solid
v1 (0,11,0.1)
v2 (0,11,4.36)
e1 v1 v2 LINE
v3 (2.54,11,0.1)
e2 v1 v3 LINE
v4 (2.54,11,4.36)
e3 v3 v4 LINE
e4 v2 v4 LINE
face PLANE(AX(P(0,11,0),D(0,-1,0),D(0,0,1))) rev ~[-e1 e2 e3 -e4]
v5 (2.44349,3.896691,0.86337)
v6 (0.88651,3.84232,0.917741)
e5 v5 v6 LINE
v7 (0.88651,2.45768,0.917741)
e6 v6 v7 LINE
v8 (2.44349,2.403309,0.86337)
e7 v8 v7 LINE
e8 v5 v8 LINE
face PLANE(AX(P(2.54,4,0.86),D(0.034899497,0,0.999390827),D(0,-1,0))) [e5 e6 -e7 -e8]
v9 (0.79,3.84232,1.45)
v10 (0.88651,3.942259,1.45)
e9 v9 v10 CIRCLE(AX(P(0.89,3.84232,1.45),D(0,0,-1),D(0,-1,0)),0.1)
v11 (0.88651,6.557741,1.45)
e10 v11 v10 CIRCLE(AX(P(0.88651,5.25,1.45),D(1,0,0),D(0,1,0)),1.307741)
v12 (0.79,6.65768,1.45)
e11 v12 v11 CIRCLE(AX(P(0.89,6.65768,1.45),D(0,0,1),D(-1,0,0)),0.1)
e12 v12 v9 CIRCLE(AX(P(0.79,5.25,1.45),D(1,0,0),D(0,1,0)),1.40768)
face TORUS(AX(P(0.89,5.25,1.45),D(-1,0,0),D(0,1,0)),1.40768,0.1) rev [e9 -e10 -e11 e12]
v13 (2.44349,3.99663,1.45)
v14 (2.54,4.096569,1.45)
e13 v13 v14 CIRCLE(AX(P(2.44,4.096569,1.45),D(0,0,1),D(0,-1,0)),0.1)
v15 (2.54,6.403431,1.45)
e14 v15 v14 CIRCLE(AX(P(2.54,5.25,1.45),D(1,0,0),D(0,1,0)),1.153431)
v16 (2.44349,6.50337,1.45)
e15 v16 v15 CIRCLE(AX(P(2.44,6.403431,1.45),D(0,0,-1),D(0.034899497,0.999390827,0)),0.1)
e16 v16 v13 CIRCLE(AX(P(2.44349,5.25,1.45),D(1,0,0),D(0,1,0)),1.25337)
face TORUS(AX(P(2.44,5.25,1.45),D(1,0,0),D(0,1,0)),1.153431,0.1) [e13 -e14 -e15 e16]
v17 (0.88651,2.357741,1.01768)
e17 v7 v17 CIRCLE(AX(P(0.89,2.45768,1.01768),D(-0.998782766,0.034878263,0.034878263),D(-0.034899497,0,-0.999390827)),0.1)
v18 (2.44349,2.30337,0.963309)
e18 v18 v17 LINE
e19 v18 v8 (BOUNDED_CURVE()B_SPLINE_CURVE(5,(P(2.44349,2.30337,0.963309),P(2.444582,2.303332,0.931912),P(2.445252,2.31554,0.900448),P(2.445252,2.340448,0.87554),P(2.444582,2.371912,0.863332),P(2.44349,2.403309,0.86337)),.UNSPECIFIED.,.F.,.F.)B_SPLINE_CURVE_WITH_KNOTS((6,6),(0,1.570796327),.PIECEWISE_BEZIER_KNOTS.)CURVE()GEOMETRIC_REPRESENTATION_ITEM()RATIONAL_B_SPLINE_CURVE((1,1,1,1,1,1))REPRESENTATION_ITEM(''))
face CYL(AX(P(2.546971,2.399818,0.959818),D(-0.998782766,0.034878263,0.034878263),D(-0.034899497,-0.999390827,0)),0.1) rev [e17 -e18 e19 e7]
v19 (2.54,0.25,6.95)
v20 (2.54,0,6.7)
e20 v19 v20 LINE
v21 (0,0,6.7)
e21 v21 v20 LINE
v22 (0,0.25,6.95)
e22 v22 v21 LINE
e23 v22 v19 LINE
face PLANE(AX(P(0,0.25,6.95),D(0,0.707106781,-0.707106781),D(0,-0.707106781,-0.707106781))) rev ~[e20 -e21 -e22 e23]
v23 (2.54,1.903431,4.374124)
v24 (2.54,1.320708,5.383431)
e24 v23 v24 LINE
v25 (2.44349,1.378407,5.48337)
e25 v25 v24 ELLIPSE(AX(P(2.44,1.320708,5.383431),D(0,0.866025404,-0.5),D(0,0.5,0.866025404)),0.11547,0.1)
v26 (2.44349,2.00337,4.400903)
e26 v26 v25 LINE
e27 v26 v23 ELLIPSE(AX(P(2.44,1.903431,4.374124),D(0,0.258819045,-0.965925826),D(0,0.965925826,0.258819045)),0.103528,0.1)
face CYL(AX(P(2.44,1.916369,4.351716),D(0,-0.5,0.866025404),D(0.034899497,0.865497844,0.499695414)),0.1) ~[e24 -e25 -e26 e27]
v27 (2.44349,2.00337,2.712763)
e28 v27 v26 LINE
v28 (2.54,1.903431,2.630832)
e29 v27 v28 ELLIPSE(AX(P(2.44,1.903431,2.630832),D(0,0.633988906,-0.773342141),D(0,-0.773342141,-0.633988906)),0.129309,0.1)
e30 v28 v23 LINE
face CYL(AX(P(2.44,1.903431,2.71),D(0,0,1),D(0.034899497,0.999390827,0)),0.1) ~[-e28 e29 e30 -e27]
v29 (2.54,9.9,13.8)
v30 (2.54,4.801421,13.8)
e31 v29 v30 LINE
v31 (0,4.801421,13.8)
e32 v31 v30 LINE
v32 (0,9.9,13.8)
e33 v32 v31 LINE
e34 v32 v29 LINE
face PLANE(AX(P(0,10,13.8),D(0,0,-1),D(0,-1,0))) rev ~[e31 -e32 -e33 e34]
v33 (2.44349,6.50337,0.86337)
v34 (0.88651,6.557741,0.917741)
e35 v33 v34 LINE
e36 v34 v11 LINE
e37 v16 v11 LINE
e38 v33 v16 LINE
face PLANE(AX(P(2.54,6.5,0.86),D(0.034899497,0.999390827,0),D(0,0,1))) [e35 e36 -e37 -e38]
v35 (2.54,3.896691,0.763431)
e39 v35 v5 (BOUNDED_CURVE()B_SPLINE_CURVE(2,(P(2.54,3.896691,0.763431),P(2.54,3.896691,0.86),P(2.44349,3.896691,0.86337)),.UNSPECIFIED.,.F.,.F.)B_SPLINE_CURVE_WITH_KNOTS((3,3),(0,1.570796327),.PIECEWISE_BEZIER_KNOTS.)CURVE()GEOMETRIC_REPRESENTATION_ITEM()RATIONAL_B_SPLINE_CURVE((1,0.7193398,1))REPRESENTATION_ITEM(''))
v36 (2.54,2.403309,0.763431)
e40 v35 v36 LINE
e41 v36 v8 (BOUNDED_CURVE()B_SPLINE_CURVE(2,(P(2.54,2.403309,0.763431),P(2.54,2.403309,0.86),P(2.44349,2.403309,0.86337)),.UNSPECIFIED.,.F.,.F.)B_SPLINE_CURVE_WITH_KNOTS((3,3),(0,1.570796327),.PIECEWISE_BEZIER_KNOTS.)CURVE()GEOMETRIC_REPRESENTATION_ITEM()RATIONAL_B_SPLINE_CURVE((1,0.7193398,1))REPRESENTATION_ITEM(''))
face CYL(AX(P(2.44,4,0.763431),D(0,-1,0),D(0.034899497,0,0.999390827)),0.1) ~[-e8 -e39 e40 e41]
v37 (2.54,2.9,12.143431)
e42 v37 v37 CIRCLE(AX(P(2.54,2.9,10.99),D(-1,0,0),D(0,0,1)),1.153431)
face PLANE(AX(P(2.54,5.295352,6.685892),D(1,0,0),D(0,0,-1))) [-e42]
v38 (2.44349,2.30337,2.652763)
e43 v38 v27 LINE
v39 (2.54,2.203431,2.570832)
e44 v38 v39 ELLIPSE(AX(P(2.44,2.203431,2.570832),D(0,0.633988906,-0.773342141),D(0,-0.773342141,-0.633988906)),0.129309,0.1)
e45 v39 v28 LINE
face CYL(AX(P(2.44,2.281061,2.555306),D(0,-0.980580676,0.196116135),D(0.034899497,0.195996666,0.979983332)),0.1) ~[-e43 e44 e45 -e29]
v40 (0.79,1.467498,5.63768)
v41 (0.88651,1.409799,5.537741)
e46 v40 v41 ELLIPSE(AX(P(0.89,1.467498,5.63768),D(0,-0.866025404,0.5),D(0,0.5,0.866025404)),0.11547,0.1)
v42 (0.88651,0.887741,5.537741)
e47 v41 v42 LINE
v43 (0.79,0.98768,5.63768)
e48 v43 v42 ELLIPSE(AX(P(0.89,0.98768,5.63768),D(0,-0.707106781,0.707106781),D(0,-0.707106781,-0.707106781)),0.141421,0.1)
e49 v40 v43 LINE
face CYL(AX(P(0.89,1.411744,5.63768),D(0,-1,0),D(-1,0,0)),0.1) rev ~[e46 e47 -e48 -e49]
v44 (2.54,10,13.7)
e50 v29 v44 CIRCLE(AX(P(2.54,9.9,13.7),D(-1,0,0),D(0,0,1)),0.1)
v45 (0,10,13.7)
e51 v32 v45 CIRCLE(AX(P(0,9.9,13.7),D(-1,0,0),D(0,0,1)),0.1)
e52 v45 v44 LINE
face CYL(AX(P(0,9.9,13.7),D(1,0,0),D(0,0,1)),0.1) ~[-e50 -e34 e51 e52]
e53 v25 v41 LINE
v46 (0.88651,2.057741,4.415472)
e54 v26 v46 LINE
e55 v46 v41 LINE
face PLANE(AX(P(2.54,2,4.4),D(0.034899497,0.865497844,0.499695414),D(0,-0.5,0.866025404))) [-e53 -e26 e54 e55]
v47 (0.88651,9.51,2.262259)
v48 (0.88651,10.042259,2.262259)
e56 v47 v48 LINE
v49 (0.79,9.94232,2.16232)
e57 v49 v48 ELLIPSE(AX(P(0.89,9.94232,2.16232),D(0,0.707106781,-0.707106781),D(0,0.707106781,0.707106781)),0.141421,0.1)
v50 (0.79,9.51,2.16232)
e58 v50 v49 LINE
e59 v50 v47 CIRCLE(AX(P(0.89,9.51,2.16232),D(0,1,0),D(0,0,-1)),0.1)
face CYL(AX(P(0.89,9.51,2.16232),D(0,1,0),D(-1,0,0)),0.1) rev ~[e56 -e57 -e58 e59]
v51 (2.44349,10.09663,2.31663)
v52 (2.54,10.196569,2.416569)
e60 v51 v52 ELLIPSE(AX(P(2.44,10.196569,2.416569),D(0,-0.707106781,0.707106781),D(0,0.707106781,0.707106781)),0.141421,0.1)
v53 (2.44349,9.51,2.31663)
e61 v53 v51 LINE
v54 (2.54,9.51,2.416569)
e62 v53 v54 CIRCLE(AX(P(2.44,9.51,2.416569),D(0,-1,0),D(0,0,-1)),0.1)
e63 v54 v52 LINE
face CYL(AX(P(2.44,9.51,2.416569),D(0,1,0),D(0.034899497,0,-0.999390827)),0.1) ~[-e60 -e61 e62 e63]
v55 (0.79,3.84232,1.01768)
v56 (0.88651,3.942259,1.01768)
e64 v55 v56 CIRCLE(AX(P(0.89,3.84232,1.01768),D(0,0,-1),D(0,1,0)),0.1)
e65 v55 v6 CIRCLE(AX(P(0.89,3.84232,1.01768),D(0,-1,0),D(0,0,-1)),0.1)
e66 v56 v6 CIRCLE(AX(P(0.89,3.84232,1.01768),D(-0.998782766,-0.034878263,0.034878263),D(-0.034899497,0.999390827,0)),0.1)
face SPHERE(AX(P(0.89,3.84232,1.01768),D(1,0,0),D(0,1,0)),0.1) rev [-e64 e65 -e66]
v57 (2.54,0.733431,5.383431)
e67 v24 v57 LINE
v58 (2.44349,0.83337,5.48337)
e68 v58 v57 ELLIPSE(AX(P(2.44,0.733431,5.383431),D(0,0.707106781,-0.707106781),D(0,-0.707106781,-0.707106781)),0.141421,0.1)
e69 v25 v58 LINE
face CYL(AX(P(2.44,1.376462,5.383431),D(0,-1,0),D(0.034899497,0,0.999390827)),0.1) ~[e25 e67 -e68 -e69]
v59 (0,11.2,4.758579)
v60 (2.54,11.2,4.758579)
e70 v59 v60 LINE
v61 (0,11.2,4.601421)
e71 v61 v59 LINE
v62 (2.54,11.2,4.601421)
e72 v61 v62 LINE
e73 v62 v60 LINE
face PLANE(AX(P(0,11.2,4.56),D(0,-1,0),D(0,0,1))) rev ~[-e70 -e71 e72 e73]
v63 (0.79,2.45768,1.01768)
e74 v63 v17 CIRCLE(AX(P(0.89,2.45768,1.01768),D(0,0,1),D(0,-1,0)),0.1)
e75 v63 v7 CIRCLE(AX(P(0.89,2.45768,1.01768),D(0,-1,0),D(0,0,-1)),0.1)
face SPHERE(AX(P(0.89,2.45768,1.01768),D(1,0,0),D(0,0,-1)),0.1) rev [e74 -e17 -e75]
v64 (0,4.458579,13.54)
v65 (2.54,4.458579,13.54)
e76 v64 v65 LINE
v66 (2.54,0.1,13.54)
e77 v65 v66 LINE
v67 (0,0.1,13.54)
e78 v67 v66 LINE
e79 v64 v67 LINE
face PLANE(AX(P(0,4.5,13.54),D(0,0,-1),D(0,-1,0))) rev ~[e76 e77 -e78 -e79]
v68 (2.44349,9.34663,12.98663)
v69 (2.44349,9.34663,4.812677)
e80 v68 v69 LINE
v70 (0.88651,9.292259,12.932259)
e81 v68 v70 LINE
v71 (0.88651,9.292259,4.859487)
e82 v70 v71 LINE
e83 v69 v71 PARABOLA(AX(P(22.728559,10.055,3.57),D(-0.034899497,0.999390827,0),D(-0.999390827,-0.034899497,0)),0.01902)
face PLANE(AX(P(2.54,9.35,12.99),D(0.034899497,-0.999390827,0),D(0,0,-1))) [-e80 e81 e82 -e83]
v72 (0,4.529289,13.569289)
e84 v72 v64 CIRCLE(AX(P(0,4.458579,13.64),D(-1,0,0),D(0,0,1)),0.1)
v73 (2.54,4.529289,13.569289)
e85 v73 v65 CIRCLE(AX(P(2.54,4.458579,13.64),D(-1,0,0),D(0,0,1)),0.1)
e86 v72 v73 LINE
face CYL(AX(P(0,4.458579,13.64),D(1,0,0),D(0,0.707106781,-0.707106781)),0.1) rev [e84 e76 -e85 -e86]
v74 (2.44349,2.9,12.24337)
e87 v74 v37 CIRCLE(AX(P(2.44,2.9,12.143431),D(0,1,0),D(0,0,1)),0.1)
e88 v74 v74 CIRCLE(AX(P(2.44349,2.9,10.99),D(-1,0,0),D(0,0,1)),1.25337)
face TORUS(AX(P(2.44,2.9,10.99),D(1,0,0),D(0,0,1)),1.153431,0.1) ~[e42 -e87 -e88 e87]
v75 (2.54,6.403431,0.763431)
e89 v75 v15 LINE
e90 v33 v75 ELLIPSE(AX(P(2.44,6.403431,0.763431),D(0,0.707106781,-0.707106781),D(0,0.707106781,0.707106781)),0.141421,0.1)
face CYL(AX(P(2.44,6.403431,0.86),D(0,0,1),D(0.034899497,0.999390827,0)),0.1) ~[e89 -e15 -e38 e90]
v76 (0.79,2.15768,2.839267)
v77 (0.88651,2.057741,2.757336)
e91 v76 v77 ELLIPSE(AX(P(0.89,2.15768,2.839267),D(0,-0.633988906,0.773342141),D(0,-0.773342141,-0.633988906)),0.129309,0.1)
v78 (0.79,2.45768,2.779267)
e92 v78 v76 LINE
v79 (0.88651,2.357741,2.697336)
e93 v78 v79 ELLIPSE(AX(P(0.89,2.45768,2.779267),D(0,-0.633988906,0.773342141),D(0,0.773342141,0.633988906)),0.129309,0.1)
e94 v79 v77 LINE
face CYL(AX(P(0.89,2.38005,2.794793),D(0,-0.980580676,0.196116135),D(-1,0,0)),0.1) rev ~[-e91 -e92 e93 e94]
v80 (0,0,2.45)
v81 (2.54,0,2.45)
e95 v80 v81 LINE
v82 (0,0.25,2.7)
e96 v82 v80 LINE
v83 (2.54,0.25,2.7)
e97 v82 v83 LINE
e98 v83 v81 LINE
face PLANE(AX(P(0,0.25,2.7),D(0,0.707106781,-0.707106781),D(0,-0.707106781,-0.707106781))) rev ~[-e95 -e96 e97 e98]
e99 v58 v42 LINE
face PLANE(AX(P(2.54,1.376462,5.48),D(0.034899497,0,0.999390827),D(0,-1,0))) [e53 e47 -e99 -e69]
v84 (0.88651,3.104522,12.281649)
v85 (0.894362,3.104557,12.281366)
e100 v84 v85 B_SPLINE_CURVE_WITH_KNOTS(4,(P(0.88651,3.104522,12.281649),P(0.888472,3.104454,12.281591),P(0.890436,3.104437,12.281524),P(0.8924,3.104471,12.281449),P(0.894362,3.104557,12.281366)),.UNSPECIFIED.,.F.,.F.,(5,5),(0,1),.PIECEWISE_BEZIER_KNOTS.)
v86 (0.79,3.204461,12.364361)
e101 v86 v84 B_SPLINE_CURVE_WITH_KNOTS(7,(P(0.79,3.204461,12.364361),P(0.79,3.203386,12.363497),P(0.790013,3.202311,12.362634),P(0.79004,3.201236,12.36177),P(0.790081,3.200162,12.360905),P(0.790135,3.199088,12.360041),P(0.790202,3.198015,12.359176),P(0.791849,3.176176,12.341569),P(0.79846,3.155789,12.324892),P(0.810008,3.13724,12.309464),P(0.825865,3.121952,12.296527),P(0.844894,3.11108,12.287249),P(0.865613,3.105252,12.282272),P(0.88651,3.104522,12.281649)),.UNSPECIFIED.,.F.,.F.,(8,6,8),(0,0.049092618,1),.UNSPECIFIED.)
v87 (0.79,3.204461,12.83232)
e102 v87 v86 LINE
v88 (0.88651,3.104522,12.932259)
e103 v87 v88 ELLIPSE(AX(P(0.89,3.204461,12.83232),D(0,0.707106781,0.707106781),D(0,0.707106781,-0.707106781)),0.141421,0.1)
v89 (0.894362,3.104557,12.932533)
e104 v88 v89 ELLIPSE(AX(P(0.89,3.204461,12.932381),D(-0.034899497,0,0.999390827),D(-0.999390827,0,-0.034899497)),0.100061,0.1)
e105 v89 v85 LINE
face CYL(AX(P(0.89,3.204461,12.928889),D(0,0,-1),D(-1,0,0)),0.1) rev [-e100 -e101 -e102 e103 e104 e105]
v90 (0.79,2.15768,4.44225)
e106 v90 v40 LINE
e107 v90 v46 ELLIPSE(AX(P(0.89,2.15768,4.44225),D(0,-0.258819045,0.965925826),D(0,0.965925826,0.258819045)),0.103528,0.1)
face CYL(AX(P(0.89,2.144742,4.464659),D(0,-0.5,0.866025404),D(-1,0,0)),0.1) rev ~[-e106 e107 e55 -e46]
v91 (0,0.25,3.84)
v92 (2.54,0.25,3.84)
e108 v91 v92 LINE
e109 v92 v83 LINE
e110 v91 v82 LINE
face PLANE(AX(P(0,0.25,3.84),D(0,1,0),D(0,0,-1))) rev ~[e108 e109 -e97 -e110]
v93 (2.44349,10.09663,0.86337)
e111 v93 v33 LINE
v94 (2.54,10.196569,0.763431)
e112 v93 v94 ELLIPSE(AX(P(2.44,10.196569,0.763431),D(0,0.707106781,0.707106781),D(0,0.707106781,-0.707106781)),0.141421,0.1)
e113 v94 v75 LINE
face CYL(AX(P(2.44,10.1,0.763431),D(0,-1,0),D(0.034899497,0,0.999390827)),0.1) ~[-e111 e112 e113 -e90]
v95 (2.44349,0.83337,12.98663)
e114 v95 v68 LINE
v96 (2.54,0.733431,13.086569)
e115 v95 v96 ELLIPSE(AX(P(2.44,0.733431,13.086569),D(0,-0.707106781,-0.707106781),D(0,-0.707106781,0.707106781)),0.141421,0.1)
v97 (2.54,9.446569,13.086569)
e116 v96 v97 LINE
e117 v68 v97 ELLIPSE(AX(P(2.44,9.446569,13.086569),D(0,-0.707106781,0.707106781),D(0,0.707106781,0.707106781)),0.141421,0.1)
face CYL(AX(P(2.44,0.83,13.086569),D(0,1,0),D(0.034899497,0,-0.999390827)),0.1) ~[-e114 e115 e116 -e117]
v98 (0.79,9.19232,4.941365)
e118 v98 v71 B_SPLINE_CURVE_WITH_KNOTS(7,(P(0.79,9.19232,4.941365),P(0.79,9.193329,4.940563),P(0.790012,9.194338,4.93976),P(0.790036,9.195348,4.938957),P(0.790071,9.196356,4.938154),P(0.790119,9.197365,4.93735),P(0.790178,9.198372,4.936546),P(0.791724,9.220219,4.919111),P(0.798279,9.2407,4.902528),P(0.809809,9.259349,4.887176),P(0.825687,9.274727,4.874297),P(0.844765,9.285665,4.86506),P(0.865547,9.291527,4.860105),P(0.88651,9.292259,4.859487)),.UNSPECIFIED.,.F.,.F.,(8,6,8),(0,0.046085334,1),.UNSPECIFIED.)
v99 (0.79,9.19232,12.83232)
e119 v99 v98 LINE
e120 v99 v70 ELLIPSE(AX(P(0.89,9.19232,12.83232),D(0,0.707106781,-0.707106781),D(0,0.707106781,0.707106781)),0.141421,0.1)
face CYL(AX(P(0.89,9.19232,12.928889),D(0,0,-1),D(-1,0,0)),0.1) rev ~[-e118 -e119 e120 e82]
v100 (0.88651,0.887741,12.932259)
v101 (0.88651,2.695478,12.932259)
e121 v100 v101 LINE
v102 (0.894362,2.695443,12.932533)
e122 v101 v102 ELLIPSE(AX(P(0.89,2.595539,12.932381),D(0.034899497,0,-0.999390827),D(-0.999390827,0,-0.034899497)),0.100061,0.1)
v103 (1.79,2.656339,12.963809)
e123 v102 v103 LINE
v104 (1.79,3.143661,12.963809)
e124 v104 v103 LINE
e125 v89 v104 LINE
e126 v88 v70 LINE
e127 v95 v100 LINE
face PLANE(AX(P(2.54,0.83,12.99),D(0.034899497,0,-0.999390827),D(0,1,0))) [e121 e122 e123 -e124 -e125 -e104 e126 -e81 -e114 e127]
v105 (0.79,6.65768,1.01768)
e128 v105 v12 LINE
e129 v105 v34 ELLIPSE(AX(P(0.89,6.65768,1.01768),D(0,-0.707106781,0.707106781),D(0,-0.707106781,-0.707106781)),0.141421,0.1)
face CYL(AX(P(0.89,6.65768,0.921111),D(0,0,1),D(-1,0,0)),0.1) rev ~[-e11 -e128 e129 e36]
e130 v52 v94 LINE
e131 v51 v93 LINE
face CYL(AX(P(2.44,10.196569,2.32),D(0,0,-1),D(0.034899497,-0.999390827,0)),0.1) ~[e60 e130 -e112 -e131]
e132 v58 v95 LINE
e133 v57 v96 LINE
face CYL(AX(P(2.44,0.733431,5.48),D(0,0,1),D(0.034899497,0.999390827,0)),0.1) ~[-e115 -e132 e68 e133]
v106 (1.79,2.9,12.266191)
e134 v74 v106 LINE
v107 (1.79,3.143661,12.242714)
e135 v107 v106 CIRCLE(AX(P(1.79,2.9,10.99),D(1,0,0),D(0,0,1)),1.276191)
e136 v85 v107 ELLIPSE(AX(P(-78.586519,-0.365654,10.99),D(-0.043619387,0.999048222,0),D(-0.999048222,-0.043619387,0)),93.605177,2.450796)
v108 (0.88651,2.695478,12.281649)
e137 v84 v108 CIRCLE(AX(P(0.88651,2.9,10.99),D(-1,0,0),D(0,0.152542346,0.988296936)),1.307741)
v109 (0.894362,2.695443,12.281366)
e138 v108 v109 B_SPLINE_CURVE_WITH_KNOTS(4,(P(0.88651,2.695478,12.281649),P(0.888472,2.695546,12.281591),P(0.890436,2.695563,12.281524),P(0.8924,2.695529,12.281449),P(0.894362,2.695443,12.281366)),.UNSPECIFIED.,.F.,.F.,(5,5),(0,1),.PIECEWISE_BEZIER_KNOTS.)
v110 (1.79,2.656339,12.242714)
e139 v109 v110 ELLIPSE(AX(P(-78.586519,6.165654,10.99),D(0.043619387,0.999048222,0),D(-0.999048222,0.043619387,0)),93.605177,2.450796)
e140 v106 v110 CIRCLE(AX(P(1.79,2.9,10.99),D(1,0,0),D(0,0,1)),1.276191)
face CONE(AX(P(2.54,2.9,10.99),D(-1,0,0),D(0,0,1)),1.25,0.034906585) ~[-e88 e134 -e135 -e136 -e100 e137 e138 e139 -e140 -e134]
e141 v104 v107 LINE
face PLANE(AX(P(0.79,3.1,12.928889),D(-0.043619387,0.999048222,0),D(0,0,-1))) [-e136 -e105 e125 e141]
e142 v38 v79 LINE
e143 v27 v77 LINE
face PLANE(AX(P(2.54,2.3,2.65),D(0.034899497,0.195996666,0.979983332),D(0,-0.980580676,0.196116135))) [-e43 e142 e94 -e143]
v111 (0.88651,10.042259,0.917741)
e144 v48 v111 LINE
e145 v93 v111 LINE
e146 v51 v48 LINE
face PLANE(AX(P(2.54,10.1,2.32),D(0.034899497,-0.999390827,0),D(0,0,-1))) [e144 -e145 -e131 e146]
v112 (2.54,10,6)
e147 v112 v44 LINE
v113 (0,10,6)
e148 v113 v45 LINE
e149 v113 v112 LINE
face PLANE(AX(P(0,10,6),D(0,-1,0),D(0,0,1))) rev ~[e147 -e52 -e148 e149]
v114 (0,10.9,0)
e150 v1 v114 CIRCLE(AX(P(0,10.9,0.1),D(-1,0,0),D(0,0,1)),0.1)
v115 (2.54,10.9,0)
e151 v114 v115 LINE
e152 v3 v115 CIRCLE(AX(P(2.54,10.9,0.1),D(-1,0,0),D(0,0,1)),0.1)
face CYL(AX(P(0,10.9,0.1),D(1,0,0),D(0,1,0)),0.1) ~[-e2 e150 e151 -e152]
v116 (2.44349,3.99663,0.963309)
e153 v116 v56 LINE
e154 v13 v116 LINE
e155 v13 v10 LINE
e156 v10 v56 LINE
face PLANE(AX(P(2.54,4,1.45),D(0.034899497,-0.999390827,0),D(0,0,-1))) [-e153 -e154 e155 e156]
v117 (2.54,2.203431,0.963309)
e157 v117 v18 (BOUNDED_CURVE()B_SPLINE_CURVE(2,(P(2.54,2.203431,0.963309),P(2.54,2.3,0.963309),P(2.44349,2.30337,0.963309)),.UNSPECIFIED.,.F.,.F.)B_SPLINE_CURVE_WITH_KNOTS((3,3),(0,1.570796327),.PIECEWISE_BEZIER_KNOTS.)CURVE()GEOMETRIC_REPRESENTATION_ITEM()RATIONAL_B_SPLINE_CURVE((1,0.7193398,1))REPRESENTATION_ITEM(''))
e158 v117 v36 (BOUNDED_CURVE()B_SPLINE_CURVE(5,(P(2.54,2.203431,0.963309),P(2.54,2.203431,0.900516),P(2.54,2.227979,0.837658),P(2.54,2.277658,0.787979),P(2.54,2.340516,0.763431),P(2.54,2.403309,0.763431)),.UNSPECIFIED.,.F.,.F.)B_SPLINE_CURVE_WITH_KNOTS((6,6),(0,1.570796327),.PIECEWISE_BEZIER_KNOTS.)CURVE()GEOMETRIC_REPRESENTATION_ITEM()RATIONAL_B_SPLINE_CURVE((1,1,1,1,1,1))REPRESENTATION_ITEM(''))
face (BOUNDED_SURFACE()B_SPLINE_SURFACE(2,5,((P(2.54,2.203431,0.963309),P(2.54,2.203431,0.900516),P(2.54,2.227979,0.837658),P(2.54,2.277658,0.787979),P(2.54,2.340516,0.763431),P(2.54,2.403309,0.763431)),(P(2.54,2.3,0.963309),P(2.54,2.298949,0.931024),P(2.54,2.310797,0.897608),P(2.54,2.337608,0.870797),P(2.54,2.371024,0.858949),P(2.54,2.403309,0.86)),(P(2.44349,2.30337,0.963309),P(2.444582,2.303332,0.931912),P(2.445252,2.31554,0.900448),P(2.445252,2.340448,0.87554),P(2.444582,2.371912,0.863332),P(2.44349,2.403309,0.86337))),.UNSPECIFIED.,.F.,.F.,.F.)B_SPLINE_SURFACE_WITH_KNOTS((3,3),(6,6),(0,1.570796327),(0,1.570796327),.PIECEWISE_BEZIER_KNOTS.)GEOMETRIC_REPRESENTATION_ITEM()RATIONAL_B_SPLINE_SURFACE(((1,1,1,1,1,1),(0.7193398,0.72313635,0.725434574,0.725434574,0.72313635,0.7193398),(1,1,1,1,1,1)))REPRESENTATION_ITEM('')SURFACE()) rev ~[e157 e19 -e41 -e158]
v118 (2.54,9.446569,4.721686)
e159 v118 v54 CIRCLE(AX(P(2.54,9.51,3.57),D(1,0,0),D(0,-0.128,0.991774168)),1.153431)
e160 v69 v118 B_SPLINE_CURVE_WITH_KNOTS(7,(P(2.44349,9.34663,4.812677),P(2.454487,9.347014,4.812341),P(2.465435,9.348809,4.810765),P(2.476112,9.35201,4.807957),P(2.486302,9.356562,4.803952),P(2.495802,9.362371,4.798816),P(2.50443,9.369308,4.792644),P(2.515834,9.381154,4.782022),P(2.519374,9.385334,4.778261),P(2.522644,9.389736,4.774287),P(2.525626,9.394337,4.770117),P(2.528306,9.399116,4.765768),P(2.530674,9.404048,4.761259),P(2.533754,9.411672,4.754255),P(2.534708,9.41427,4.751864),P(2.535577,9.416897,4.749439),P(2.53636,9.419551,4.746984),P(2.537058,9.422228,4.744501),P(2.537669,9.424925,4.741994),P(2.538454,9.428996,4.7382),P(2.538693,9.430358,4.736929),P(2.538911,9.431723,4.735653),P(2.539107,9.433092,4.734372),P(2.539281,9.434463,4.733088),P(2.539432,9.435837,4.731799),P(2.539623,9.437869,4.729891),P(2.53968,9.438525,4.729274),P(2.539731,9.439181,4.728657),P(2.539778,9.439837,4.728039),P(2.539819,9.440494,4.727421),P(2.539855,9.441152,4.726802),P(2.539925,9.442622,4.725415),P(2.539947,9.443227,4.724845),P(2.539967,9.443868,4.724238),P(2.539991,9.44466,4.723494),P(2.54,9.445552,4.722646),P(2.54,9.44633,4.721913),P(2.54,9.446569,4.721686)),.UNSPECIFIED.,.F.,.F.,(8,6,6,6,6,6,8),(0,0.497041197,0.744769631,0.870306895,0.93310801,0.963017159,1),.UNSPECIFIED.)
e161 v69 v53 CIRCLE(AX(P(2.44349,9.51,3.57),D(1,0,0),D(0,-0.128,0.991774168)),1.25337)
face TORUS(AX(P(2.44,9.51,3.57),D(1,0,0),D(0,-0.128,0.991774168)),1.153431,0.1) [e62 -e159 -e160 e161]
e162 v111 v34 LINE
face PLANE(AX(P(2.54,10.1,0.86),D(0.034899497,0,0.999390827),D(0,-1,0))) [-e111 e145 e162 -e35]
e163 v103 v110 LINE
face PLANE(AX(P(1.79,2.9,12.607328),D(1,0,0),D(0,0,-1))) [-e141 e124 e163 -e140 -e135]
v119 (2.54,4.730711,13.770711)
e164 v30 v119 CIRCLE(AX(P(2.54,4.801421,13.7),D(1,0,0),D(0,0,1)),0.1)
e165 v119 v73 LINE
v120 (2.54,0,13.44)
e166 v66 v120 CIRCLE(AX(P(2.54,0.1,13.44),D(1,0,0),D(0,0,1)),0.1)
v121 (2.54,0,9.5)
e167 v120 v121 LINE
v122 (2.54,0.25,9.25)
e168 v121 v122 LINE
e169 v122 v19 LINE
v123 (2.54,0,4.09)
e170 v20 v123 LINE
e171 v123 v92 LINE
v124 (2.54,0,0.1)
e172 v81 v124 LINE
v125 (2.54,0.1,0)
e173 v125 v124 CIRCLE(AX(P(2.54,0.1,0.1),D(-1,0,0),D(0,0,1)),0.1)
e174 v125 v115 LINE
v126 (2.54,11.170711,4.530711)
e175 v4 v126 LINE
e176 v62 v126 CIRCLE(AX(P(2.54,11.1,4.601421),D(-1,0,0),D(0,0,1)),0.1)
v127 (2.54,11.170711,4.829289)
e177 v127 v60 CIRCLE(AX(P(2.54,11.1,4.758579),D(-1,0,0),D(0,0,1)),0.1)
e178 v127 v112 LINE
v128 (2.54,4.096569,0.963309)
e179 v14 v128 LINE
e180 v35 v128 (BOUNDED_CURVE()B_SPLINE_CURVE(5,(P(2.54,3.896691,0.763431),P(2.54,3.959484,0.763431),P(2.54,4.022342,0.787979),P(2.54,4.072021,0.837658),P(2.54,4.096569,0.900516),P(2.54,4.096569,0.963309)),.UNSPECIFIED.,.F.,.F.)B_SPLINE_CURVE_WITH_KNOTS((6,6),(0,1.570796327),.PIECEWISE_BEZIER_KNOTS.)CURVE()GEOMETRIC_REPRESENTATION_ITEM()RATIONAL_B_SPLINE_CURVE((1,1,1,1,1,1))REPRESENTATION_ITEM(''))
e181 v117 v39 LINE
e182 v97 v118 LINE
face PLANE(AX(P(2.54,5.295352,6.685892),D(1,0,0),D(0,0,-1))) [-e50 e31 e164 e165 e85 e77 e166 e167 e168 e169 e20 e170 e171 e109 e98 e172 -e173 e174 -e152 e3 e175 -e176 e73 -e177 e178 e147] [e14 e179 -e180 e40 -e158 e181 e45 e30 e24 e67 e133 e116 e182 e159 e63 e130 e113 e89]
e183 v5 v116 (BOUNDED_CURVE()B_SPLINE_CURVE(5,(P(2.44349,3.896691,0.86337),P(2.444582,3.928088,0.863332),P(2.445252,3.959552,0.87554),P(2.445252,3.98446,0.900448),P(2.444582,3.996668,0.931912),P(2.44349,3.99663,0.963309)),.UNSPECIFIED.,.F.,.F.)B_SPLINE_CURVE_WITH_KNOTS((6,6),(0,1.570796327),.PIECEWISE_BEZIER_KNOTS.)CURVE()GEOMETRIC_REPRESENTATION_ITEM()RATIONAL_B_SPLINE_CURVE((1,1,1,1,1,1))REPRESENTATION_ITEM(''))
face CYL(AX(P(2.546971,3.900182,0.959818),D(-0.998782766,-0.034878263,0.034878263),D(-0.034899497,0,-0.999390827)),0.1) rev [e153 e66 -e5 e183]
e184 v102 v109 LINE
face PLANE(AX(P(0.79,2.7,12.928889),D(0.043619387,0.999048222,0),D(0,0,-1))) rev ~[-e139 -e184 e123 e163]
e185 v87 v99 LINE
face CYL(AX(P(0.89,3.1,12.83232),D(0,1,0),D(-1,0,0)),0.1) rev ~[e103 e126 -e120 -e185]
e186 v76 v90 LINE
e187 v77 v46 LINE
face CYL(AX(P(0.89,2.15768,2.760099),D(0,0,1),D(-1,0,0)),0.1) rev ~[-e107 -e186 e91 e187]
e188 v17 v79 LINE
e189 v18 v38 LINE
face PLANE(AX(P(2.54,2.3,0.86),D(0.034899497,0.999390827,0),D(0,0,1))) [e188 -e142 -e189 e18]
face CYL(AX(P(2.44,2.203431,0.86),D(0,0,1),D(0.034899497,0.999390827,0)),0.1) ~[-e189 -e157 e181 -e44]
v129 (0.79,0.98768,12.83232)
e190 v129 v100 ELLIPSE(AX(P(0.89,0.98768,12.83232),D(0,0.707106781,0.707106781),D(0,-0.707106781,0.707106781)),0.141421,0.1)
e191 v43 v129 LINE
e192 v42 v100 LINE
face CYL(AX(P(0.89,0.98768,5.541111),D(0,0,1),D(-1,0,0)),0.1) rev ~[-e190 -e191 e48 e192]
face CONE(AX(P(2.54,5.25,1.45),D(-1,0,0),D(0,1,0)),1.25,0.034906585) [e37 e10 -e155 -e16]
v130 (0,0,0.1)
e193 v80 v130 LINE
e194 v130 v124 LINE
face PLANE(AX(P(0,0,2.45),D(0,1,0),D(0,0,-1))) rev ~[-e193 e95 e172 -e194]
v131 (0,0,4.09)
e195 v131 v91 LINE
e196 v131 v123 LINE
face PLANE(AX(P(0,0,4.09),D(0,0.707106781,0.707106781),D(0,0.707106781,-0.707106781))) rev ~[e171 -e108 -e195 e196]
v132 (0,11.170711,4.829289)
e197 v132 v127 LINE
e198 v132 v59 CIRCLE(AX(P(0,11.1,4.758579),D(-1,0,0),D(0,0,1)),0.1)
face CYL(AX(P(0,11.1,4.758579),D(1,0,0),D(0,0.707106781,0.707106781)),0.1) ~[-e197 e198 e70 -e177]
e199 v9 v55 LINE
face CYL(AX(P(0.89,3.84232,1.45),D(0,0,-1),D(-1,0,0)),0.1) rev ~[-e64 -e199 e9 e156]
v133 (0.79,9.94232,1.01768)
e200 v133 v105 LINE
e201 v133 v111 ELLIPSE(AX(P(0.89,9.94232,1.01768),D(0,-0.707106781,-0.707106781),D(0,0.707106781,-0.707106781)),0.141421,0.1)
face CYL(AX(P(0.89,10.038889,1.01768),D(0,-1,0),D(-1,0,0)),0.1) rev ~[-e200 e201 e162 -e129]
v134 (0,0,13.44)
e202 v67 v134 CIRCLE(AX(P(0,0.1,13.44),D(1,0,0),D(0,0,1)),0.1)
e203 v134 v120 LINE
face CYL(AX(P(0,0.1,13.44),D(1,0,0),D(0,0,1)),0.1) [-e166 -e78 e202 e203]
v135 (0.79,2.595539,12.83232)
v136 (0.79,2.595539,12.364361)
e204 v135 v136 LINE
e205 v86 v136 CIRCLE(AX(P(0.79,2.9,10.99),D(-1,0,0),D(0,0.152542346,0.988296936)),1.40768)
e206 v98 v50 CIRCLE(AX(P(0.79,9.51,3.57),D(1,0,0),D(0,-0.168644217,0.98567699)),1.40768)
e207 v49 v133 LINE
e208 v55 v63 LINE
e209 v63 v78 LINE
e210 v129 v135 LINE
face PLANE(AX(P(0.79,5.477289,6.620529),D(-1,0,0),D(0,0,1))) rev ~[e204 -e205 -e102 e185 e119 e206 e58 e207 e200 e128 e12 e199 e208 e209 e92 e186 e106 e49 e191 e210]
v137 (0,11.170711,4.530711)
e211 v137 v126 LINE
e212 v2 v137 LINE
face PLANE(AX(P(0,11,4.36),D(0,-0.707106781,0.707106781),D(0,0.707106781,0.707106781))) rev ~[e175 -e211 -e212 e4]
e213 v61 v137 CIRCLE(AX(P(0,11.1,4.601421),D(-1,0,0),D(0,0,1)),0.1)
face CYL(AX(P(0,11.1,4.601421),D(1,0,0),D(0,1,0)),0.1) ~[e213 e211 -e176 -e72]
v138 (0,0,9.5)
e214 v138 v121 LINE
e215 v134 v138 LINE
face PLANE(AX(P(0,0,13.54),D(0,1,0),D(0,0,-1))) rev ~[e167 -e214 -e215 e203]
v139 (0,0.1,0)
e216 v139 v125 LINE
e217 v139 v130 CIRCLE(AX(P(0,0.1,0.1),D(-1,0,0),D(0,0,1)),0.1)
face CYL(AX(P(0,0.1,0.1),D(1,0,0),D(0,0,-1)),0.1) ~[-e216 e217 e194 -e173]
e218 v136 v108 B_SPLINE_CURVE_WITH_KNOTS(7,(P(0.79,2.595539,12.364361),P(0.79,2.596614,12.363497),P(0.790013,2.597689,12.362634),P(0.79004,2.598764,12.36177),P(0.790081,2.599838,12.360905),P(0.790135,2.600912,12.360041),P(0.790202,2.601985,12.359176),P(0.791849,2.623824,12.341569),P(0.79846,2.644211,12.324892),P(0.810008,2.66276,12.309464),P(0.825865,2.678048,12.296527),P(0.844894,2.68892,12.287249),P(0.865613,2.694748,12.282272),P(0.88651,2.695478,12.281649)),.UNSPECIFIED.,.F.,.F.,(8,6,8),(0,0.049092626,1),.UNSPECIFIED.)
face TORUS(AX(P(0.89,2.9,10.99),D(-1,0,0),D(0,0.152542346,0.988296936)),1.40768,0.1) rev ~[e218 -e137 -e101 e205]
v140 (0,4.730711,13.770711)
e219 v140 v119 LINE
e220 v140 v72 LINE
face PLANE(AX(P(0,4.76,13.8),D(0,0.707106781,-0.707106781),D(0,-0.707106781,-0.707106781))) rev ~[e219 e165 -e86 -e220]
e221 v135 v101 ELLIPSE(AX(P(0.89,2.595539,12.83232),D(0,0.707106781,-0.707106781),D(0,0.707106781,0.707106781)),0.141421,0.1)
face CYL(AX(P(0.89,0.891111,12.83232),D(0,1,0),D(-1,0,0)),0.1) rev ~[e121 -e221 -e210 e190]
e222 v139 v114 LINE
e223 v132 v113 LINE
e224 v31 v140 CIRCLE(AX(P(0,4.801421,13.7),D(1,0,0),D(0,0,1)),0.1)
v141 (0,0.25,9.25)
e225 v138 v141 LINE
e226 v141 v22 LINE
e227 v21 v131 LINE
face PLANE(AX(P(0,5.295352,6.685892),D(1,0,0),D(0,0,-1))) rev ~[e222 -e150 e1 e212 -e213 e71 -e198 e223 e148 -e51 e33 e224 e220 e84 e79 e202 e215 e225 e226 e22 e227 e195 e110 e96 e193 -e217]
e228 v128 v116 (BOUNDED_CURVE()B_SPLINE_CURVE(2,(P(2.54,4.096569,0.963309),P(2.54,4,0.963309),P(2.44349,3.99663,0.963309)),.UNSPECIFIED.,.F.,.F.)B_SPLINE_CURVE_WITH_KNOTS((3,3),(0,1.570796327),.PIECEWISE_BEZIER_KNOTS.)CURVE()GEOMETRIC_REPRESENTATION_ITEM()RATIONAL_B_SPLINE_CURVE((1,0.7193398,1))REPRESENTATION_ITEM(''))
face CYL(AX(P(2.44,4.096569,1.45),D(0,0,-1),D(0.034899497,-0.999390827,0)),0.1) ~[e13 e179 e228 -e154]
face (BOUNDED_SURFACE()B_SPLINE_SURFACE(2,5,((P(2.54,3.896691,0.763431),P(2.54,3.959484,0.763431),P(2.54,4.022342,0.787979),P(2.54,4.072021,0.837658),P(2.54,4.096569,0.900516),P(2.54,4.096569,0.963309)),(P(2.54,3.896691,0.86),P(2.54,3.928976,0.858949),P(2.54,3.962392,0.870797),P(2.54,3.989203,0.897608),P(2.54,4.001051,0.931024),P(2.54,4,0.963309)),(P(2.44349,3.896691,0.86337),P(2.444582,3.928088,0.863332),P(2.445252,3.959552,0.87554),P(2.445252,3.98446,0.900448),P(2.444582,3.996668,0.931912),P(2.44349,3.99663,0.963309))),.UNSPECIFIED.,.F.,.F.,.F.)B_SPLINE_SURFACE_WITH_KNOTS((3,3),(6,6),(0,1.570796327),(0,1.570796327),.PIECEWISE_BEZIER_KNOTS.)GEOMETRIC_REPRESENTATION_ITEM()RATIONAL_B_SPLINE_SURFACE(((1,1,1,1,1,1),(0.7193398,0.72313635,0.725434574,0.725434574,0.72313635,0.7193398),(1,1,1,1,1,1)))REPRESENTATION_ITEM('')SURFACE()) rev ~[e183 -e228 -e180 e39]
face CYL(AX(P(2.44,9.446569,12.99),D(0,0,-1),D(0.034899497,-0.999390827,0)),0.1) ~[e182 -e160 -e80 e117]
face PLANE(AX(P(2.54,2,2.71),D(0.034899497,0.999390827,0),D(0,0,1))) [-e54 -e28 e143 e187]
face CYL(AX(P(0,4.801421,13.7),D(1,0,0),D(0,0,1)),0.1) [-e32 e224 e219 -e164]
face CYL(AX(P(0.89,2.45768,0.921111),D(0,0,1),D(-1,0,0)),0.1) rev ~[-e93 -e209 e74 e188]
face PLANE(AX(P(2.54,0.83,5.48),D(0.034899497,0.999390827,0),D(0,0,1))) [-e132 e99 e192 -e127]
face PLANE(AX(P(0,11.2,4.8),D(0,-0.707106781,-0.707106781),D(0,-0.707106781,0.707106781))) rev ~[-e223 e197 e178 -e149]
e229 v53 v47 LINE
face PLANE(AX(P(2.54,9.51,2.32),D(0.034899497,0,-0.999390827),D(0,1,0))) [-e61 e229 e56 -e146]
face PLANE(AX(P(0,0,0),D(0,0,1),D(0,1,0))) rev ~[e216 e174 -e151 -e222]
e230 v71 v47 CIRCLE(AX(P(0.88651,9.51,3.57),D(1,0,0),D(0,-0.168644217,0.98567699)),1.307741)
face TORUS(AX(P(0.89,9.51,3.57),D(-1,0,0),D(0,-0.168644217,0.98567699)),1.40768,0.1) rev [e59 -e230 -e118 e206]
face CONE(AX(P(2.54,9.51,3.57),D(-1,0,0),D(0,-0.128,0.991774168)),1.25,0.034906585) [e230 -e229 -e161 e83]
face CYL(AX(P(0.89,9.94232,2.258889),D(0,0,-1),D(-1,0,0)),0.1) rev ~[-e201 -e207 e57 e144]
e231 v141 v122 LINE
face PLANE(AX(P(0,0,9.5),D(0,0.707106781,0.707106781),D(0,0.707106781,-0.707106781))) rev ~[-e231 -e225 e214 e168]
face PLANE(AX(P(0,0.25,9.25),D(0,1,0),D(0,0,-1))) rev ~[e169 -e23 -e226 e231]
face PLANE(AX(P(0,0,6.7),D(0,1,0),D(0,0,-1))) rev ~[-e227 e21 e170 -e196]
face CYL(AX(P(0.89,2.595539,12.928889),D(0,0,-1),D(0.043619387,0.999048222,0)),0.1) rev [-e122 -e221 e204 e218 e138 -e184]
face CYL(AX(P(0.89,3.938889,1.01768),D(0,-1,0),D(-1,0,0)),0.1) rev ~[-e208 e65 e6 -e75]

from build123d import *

# Parameters (mm, degrees)
EXTRUDE_1_DEPTH     = 2.54
SKETCH_13_R         = 1.25
CUT_EXTRUDE_1_DEPTH = 1.75
CUT_EXTRUDE_1_DRAFT = 2
SKETCH_15_W         = 0.643121327
SKETCH_15_H         = 0.4
EXTRUDE_2_DEPTH     = 1
EXTRUDE_2_DRAFT     = -2.5
FILLET_1_R          = 0.1
FILLET_2_R          = 0.1


with BuildPart() as part:
    # 草图1 → 凸台-拉伸1 (new body)
    with BuildSketch(Plane(origin=(0, 0, 0), x_dir=(0, 0, -1), z_dir=(1, 0, 0))):
        Polygon((-13.8, 10), (-13.8, 4.76), (-13.54, 4.5), (-13.54, 0), (-9.5, 0), (-9.25, 0.25), (-6.95, 0.25), (-6.7, 0), (-4.09, 0), (-3.84, 0.25), (-2.7, 0.25), (-2.45, 0), (0, 0), (0, 11), (-4.36, 11), (-4.56, 11.2), (-4.8, 11.2), (-6, 10), align=None)
    extrude(amount=EXTRUDE_1_DEPTH)


with BuildPart() as cut_extrude_1_tool:
    # 草图13 → 切除-拉伸1 (with draft: the straight prism first)
    with BuildSketch(Plane.ZY.offset(-2.54)):
        with BuildLine():
            Line((12.99, 9.35), (4.80971771, 9.35))
            ThreePointArc((4.80971771, 9.35), (3.489834974, 8.262573221), (2.32, 9.51))
            Line((2.32, 9.51), (2.32, 10.1))
            Line((2.32, 10.1), (0.86, 10.1))
            Line((0.86, 10.1), (0.86, 6.5))
            Line((0.86, 6.5), (1.45, 6.5))
            ThreePointArc((1.45, 6.5), (2.7, 5.25), (1.45, 4))
            Line((1.45, 4), (0.86, 4))
            Line((0.86, 4), (0.86, 2.3))
            Line((0.86, 2.3), (2.65, 2.3))
            Line((2.65, 2.3), (2.71, 2))
            Line((2.71, 2), (4.4, 2))
            Line((4.4, 2), (5.48, 1.376461709))
            Line((5.48, 1.376461709), (5.48, 0.83))
            Line((5.48, 0.83), (12.99, 0.83))
            Line((12.99, 0.83), (12.99, 9.35))
        make_face()
        with Locations((10.99, 2.9)):
            Circle(SKETCH_13_R, mode=Mode.SUBTRACT)
    extrude(amount=CUT_EXTRUDE_1_DEPTH)
    # 切除-拉伸1: the draft: its side faces are tilted about the plane it starts from
    cut_extrude_1_sides = [cut_extrude_1_tool.faces().sort_by_distance(p)[0] for p in [
        (1.665, 9.35, 8.899858855),
        (1.665, 8.262573221, 3.489834974),
        (1.665, 9.805, 2.32),
        (1.665, 10.1, 1.59),
        (1.665, 8.3, 0.86),
        (1.665, 6.5, 1.155),
        (1.665, 5.25, 2.7),
        (1.665, 4, 1.155),
        (1.665, 3.15, 0.86),
        (1.665, 2.3, 1.755),
        (1.665, 2.15, 2.68),
        (1.665, 2, 3.555),
        (1.665, 1.688230855, 4.94),
        (1.665, 1.103230855, 5.48),
        (1.665, 0.83, 9.235),
        (1.665, 5.09, 12.99),
        (1.665, 2.9, 9.74),
    ]]
    draft(cut_extrude_1_sides, Plane.ZY.offset(-2.54), CUT_EXTRUDE_1_DRAFT)


with BuildPart() as part_1:
    add(part.part)

    # 切除-拉伸1: cut by cut_extrude_1_tool
    add(cut_extrude_1_tool.part, mode=Mode.SUBTRACT)


with BuildPart() as extrude_2_tool:
    # 草图15 → 凸台-拉伸2 (with draft: the straight prism first)
    with BuildSketch(Plane(origin=(0.79, 0, 0), x_dir=(0, 0, -1), z_dir=(1, 0, 0))):
        with Locations((-12.607327989, 2.9)):
            Rectangle(SKETCH_15_W, SKETCH_15_H)
    extrude(amount=EXTRUDE_2_DEPTH)
    # 凸台-拉伸2: the draft: its side faces are tilted about the plane it starts from
    extrude_2_sides = [extrude_2_tool.faces().sort_by_distance(p)[0] for p in [
        (1.29, 2.9, 12.928888653),
        (1.29, 2.7, 12.60732799),
        (1.29, 2.9, 12.285767326),
        (1.29, 3.1, 12.60732799),
    ]]
    draft(extrude_2_sides, Plane(origin=(0.79, 0, 0), x_dir=(0, 0, -1), z_dir=(1, 0, 0)), EXTRUDE_2_DRAFT)


with BuildPart() as part_2:
    add(part_1.part)

    # 凸台-拉伸2: add extrude_2_tool
    add(extrude_2_tool.part)

    # 圆角1
    fillet_1_edges = [part_2.edges().sort_by_distance(p)[0] for p in [
        (2.54, 6.5, 1.155),
        (2.54, 5.25, 2.7),
        (2.54, 4, 1.155),
        (2.54, 9.805, 2.32),
        (1.665, 3.969444327, 0.890555673),
        (2.54, 3.15, 0.86),
        (1.665, 2.330555673, 0.890555673),
        (0.79, 3.1, 12.60732799),
        (0.79, 6.194444327, 12.928888653),
        (0.79, 9.288888653, 8.895610469),
        (0.79, 8.203591854, 3.459046315),
        (0.79, 9.774444327, 2.258888653),
        (0.79, 10.038888653, 1.59),
        (0.79, 8.3, 0.921111347),
        (0.79, 6.561111347, 1.185555673),
        (0.79, 5.25, 2.761111347),
        (0.79, 3.938888653, 1.185555673),
        (0.79, 3.15, 0.921111347),
        (0.79, 2.361111347, 1.810605334),
        (0.79, 2.211111347, 2.73009932),
        (0.79, 2.061111347, 3.588237028),
        (0.79, 1.736427854, 4.978743041),
        (0.79, 1.151427854, 5.541111347),
        (0.79, 0.891111347, 9.235),
        (0.79, 1.795555673, 12.928888653),
        (0.79, 2.7, 12.60732799),
        (0.79, 2.9, 9.678888653),
        (2.54, 8.262573221, 3.489834974),
        (2.54, 10.1, 1.59),
        (2.54, 8.3, 0.86),
        (2.54, 2.15, 2.68),
        (2.54, 2.3, 1.755),
        (2.54, 2, 3.555),
        (2.54, 1.688230855, 4.94),
        (2.54, 1.103230855, 5.48),
        (2.54, 0.83, 9.235),
        (2.54, 5.09, 12.99),
        (2.54, 2.9, 9.74),
        (2.54, 9.35, 8.899858855),
    ]]
    fillet(fillet_1_edges, radius=FILLET_1_R)

    # 圆角2
    fillet_2_edges = [part_2.edges().sort_by_distance(p)[0] for p in [
        (1.27, 11.2, 4.8),
        (1.27, 11.2, 4.56),
        (1.27, 11, 0),
        (1.27, 0, 0),
        (1.27, 0, 13.54),
        (1.27, 4.5, 13.54),
        (1.27, 4.76, 13.8),
        (1.27, 10, 13.8),
    ]]
    fillet(fillet_2_edges, radius=FILLET_2_R)


solid = part_2.part
